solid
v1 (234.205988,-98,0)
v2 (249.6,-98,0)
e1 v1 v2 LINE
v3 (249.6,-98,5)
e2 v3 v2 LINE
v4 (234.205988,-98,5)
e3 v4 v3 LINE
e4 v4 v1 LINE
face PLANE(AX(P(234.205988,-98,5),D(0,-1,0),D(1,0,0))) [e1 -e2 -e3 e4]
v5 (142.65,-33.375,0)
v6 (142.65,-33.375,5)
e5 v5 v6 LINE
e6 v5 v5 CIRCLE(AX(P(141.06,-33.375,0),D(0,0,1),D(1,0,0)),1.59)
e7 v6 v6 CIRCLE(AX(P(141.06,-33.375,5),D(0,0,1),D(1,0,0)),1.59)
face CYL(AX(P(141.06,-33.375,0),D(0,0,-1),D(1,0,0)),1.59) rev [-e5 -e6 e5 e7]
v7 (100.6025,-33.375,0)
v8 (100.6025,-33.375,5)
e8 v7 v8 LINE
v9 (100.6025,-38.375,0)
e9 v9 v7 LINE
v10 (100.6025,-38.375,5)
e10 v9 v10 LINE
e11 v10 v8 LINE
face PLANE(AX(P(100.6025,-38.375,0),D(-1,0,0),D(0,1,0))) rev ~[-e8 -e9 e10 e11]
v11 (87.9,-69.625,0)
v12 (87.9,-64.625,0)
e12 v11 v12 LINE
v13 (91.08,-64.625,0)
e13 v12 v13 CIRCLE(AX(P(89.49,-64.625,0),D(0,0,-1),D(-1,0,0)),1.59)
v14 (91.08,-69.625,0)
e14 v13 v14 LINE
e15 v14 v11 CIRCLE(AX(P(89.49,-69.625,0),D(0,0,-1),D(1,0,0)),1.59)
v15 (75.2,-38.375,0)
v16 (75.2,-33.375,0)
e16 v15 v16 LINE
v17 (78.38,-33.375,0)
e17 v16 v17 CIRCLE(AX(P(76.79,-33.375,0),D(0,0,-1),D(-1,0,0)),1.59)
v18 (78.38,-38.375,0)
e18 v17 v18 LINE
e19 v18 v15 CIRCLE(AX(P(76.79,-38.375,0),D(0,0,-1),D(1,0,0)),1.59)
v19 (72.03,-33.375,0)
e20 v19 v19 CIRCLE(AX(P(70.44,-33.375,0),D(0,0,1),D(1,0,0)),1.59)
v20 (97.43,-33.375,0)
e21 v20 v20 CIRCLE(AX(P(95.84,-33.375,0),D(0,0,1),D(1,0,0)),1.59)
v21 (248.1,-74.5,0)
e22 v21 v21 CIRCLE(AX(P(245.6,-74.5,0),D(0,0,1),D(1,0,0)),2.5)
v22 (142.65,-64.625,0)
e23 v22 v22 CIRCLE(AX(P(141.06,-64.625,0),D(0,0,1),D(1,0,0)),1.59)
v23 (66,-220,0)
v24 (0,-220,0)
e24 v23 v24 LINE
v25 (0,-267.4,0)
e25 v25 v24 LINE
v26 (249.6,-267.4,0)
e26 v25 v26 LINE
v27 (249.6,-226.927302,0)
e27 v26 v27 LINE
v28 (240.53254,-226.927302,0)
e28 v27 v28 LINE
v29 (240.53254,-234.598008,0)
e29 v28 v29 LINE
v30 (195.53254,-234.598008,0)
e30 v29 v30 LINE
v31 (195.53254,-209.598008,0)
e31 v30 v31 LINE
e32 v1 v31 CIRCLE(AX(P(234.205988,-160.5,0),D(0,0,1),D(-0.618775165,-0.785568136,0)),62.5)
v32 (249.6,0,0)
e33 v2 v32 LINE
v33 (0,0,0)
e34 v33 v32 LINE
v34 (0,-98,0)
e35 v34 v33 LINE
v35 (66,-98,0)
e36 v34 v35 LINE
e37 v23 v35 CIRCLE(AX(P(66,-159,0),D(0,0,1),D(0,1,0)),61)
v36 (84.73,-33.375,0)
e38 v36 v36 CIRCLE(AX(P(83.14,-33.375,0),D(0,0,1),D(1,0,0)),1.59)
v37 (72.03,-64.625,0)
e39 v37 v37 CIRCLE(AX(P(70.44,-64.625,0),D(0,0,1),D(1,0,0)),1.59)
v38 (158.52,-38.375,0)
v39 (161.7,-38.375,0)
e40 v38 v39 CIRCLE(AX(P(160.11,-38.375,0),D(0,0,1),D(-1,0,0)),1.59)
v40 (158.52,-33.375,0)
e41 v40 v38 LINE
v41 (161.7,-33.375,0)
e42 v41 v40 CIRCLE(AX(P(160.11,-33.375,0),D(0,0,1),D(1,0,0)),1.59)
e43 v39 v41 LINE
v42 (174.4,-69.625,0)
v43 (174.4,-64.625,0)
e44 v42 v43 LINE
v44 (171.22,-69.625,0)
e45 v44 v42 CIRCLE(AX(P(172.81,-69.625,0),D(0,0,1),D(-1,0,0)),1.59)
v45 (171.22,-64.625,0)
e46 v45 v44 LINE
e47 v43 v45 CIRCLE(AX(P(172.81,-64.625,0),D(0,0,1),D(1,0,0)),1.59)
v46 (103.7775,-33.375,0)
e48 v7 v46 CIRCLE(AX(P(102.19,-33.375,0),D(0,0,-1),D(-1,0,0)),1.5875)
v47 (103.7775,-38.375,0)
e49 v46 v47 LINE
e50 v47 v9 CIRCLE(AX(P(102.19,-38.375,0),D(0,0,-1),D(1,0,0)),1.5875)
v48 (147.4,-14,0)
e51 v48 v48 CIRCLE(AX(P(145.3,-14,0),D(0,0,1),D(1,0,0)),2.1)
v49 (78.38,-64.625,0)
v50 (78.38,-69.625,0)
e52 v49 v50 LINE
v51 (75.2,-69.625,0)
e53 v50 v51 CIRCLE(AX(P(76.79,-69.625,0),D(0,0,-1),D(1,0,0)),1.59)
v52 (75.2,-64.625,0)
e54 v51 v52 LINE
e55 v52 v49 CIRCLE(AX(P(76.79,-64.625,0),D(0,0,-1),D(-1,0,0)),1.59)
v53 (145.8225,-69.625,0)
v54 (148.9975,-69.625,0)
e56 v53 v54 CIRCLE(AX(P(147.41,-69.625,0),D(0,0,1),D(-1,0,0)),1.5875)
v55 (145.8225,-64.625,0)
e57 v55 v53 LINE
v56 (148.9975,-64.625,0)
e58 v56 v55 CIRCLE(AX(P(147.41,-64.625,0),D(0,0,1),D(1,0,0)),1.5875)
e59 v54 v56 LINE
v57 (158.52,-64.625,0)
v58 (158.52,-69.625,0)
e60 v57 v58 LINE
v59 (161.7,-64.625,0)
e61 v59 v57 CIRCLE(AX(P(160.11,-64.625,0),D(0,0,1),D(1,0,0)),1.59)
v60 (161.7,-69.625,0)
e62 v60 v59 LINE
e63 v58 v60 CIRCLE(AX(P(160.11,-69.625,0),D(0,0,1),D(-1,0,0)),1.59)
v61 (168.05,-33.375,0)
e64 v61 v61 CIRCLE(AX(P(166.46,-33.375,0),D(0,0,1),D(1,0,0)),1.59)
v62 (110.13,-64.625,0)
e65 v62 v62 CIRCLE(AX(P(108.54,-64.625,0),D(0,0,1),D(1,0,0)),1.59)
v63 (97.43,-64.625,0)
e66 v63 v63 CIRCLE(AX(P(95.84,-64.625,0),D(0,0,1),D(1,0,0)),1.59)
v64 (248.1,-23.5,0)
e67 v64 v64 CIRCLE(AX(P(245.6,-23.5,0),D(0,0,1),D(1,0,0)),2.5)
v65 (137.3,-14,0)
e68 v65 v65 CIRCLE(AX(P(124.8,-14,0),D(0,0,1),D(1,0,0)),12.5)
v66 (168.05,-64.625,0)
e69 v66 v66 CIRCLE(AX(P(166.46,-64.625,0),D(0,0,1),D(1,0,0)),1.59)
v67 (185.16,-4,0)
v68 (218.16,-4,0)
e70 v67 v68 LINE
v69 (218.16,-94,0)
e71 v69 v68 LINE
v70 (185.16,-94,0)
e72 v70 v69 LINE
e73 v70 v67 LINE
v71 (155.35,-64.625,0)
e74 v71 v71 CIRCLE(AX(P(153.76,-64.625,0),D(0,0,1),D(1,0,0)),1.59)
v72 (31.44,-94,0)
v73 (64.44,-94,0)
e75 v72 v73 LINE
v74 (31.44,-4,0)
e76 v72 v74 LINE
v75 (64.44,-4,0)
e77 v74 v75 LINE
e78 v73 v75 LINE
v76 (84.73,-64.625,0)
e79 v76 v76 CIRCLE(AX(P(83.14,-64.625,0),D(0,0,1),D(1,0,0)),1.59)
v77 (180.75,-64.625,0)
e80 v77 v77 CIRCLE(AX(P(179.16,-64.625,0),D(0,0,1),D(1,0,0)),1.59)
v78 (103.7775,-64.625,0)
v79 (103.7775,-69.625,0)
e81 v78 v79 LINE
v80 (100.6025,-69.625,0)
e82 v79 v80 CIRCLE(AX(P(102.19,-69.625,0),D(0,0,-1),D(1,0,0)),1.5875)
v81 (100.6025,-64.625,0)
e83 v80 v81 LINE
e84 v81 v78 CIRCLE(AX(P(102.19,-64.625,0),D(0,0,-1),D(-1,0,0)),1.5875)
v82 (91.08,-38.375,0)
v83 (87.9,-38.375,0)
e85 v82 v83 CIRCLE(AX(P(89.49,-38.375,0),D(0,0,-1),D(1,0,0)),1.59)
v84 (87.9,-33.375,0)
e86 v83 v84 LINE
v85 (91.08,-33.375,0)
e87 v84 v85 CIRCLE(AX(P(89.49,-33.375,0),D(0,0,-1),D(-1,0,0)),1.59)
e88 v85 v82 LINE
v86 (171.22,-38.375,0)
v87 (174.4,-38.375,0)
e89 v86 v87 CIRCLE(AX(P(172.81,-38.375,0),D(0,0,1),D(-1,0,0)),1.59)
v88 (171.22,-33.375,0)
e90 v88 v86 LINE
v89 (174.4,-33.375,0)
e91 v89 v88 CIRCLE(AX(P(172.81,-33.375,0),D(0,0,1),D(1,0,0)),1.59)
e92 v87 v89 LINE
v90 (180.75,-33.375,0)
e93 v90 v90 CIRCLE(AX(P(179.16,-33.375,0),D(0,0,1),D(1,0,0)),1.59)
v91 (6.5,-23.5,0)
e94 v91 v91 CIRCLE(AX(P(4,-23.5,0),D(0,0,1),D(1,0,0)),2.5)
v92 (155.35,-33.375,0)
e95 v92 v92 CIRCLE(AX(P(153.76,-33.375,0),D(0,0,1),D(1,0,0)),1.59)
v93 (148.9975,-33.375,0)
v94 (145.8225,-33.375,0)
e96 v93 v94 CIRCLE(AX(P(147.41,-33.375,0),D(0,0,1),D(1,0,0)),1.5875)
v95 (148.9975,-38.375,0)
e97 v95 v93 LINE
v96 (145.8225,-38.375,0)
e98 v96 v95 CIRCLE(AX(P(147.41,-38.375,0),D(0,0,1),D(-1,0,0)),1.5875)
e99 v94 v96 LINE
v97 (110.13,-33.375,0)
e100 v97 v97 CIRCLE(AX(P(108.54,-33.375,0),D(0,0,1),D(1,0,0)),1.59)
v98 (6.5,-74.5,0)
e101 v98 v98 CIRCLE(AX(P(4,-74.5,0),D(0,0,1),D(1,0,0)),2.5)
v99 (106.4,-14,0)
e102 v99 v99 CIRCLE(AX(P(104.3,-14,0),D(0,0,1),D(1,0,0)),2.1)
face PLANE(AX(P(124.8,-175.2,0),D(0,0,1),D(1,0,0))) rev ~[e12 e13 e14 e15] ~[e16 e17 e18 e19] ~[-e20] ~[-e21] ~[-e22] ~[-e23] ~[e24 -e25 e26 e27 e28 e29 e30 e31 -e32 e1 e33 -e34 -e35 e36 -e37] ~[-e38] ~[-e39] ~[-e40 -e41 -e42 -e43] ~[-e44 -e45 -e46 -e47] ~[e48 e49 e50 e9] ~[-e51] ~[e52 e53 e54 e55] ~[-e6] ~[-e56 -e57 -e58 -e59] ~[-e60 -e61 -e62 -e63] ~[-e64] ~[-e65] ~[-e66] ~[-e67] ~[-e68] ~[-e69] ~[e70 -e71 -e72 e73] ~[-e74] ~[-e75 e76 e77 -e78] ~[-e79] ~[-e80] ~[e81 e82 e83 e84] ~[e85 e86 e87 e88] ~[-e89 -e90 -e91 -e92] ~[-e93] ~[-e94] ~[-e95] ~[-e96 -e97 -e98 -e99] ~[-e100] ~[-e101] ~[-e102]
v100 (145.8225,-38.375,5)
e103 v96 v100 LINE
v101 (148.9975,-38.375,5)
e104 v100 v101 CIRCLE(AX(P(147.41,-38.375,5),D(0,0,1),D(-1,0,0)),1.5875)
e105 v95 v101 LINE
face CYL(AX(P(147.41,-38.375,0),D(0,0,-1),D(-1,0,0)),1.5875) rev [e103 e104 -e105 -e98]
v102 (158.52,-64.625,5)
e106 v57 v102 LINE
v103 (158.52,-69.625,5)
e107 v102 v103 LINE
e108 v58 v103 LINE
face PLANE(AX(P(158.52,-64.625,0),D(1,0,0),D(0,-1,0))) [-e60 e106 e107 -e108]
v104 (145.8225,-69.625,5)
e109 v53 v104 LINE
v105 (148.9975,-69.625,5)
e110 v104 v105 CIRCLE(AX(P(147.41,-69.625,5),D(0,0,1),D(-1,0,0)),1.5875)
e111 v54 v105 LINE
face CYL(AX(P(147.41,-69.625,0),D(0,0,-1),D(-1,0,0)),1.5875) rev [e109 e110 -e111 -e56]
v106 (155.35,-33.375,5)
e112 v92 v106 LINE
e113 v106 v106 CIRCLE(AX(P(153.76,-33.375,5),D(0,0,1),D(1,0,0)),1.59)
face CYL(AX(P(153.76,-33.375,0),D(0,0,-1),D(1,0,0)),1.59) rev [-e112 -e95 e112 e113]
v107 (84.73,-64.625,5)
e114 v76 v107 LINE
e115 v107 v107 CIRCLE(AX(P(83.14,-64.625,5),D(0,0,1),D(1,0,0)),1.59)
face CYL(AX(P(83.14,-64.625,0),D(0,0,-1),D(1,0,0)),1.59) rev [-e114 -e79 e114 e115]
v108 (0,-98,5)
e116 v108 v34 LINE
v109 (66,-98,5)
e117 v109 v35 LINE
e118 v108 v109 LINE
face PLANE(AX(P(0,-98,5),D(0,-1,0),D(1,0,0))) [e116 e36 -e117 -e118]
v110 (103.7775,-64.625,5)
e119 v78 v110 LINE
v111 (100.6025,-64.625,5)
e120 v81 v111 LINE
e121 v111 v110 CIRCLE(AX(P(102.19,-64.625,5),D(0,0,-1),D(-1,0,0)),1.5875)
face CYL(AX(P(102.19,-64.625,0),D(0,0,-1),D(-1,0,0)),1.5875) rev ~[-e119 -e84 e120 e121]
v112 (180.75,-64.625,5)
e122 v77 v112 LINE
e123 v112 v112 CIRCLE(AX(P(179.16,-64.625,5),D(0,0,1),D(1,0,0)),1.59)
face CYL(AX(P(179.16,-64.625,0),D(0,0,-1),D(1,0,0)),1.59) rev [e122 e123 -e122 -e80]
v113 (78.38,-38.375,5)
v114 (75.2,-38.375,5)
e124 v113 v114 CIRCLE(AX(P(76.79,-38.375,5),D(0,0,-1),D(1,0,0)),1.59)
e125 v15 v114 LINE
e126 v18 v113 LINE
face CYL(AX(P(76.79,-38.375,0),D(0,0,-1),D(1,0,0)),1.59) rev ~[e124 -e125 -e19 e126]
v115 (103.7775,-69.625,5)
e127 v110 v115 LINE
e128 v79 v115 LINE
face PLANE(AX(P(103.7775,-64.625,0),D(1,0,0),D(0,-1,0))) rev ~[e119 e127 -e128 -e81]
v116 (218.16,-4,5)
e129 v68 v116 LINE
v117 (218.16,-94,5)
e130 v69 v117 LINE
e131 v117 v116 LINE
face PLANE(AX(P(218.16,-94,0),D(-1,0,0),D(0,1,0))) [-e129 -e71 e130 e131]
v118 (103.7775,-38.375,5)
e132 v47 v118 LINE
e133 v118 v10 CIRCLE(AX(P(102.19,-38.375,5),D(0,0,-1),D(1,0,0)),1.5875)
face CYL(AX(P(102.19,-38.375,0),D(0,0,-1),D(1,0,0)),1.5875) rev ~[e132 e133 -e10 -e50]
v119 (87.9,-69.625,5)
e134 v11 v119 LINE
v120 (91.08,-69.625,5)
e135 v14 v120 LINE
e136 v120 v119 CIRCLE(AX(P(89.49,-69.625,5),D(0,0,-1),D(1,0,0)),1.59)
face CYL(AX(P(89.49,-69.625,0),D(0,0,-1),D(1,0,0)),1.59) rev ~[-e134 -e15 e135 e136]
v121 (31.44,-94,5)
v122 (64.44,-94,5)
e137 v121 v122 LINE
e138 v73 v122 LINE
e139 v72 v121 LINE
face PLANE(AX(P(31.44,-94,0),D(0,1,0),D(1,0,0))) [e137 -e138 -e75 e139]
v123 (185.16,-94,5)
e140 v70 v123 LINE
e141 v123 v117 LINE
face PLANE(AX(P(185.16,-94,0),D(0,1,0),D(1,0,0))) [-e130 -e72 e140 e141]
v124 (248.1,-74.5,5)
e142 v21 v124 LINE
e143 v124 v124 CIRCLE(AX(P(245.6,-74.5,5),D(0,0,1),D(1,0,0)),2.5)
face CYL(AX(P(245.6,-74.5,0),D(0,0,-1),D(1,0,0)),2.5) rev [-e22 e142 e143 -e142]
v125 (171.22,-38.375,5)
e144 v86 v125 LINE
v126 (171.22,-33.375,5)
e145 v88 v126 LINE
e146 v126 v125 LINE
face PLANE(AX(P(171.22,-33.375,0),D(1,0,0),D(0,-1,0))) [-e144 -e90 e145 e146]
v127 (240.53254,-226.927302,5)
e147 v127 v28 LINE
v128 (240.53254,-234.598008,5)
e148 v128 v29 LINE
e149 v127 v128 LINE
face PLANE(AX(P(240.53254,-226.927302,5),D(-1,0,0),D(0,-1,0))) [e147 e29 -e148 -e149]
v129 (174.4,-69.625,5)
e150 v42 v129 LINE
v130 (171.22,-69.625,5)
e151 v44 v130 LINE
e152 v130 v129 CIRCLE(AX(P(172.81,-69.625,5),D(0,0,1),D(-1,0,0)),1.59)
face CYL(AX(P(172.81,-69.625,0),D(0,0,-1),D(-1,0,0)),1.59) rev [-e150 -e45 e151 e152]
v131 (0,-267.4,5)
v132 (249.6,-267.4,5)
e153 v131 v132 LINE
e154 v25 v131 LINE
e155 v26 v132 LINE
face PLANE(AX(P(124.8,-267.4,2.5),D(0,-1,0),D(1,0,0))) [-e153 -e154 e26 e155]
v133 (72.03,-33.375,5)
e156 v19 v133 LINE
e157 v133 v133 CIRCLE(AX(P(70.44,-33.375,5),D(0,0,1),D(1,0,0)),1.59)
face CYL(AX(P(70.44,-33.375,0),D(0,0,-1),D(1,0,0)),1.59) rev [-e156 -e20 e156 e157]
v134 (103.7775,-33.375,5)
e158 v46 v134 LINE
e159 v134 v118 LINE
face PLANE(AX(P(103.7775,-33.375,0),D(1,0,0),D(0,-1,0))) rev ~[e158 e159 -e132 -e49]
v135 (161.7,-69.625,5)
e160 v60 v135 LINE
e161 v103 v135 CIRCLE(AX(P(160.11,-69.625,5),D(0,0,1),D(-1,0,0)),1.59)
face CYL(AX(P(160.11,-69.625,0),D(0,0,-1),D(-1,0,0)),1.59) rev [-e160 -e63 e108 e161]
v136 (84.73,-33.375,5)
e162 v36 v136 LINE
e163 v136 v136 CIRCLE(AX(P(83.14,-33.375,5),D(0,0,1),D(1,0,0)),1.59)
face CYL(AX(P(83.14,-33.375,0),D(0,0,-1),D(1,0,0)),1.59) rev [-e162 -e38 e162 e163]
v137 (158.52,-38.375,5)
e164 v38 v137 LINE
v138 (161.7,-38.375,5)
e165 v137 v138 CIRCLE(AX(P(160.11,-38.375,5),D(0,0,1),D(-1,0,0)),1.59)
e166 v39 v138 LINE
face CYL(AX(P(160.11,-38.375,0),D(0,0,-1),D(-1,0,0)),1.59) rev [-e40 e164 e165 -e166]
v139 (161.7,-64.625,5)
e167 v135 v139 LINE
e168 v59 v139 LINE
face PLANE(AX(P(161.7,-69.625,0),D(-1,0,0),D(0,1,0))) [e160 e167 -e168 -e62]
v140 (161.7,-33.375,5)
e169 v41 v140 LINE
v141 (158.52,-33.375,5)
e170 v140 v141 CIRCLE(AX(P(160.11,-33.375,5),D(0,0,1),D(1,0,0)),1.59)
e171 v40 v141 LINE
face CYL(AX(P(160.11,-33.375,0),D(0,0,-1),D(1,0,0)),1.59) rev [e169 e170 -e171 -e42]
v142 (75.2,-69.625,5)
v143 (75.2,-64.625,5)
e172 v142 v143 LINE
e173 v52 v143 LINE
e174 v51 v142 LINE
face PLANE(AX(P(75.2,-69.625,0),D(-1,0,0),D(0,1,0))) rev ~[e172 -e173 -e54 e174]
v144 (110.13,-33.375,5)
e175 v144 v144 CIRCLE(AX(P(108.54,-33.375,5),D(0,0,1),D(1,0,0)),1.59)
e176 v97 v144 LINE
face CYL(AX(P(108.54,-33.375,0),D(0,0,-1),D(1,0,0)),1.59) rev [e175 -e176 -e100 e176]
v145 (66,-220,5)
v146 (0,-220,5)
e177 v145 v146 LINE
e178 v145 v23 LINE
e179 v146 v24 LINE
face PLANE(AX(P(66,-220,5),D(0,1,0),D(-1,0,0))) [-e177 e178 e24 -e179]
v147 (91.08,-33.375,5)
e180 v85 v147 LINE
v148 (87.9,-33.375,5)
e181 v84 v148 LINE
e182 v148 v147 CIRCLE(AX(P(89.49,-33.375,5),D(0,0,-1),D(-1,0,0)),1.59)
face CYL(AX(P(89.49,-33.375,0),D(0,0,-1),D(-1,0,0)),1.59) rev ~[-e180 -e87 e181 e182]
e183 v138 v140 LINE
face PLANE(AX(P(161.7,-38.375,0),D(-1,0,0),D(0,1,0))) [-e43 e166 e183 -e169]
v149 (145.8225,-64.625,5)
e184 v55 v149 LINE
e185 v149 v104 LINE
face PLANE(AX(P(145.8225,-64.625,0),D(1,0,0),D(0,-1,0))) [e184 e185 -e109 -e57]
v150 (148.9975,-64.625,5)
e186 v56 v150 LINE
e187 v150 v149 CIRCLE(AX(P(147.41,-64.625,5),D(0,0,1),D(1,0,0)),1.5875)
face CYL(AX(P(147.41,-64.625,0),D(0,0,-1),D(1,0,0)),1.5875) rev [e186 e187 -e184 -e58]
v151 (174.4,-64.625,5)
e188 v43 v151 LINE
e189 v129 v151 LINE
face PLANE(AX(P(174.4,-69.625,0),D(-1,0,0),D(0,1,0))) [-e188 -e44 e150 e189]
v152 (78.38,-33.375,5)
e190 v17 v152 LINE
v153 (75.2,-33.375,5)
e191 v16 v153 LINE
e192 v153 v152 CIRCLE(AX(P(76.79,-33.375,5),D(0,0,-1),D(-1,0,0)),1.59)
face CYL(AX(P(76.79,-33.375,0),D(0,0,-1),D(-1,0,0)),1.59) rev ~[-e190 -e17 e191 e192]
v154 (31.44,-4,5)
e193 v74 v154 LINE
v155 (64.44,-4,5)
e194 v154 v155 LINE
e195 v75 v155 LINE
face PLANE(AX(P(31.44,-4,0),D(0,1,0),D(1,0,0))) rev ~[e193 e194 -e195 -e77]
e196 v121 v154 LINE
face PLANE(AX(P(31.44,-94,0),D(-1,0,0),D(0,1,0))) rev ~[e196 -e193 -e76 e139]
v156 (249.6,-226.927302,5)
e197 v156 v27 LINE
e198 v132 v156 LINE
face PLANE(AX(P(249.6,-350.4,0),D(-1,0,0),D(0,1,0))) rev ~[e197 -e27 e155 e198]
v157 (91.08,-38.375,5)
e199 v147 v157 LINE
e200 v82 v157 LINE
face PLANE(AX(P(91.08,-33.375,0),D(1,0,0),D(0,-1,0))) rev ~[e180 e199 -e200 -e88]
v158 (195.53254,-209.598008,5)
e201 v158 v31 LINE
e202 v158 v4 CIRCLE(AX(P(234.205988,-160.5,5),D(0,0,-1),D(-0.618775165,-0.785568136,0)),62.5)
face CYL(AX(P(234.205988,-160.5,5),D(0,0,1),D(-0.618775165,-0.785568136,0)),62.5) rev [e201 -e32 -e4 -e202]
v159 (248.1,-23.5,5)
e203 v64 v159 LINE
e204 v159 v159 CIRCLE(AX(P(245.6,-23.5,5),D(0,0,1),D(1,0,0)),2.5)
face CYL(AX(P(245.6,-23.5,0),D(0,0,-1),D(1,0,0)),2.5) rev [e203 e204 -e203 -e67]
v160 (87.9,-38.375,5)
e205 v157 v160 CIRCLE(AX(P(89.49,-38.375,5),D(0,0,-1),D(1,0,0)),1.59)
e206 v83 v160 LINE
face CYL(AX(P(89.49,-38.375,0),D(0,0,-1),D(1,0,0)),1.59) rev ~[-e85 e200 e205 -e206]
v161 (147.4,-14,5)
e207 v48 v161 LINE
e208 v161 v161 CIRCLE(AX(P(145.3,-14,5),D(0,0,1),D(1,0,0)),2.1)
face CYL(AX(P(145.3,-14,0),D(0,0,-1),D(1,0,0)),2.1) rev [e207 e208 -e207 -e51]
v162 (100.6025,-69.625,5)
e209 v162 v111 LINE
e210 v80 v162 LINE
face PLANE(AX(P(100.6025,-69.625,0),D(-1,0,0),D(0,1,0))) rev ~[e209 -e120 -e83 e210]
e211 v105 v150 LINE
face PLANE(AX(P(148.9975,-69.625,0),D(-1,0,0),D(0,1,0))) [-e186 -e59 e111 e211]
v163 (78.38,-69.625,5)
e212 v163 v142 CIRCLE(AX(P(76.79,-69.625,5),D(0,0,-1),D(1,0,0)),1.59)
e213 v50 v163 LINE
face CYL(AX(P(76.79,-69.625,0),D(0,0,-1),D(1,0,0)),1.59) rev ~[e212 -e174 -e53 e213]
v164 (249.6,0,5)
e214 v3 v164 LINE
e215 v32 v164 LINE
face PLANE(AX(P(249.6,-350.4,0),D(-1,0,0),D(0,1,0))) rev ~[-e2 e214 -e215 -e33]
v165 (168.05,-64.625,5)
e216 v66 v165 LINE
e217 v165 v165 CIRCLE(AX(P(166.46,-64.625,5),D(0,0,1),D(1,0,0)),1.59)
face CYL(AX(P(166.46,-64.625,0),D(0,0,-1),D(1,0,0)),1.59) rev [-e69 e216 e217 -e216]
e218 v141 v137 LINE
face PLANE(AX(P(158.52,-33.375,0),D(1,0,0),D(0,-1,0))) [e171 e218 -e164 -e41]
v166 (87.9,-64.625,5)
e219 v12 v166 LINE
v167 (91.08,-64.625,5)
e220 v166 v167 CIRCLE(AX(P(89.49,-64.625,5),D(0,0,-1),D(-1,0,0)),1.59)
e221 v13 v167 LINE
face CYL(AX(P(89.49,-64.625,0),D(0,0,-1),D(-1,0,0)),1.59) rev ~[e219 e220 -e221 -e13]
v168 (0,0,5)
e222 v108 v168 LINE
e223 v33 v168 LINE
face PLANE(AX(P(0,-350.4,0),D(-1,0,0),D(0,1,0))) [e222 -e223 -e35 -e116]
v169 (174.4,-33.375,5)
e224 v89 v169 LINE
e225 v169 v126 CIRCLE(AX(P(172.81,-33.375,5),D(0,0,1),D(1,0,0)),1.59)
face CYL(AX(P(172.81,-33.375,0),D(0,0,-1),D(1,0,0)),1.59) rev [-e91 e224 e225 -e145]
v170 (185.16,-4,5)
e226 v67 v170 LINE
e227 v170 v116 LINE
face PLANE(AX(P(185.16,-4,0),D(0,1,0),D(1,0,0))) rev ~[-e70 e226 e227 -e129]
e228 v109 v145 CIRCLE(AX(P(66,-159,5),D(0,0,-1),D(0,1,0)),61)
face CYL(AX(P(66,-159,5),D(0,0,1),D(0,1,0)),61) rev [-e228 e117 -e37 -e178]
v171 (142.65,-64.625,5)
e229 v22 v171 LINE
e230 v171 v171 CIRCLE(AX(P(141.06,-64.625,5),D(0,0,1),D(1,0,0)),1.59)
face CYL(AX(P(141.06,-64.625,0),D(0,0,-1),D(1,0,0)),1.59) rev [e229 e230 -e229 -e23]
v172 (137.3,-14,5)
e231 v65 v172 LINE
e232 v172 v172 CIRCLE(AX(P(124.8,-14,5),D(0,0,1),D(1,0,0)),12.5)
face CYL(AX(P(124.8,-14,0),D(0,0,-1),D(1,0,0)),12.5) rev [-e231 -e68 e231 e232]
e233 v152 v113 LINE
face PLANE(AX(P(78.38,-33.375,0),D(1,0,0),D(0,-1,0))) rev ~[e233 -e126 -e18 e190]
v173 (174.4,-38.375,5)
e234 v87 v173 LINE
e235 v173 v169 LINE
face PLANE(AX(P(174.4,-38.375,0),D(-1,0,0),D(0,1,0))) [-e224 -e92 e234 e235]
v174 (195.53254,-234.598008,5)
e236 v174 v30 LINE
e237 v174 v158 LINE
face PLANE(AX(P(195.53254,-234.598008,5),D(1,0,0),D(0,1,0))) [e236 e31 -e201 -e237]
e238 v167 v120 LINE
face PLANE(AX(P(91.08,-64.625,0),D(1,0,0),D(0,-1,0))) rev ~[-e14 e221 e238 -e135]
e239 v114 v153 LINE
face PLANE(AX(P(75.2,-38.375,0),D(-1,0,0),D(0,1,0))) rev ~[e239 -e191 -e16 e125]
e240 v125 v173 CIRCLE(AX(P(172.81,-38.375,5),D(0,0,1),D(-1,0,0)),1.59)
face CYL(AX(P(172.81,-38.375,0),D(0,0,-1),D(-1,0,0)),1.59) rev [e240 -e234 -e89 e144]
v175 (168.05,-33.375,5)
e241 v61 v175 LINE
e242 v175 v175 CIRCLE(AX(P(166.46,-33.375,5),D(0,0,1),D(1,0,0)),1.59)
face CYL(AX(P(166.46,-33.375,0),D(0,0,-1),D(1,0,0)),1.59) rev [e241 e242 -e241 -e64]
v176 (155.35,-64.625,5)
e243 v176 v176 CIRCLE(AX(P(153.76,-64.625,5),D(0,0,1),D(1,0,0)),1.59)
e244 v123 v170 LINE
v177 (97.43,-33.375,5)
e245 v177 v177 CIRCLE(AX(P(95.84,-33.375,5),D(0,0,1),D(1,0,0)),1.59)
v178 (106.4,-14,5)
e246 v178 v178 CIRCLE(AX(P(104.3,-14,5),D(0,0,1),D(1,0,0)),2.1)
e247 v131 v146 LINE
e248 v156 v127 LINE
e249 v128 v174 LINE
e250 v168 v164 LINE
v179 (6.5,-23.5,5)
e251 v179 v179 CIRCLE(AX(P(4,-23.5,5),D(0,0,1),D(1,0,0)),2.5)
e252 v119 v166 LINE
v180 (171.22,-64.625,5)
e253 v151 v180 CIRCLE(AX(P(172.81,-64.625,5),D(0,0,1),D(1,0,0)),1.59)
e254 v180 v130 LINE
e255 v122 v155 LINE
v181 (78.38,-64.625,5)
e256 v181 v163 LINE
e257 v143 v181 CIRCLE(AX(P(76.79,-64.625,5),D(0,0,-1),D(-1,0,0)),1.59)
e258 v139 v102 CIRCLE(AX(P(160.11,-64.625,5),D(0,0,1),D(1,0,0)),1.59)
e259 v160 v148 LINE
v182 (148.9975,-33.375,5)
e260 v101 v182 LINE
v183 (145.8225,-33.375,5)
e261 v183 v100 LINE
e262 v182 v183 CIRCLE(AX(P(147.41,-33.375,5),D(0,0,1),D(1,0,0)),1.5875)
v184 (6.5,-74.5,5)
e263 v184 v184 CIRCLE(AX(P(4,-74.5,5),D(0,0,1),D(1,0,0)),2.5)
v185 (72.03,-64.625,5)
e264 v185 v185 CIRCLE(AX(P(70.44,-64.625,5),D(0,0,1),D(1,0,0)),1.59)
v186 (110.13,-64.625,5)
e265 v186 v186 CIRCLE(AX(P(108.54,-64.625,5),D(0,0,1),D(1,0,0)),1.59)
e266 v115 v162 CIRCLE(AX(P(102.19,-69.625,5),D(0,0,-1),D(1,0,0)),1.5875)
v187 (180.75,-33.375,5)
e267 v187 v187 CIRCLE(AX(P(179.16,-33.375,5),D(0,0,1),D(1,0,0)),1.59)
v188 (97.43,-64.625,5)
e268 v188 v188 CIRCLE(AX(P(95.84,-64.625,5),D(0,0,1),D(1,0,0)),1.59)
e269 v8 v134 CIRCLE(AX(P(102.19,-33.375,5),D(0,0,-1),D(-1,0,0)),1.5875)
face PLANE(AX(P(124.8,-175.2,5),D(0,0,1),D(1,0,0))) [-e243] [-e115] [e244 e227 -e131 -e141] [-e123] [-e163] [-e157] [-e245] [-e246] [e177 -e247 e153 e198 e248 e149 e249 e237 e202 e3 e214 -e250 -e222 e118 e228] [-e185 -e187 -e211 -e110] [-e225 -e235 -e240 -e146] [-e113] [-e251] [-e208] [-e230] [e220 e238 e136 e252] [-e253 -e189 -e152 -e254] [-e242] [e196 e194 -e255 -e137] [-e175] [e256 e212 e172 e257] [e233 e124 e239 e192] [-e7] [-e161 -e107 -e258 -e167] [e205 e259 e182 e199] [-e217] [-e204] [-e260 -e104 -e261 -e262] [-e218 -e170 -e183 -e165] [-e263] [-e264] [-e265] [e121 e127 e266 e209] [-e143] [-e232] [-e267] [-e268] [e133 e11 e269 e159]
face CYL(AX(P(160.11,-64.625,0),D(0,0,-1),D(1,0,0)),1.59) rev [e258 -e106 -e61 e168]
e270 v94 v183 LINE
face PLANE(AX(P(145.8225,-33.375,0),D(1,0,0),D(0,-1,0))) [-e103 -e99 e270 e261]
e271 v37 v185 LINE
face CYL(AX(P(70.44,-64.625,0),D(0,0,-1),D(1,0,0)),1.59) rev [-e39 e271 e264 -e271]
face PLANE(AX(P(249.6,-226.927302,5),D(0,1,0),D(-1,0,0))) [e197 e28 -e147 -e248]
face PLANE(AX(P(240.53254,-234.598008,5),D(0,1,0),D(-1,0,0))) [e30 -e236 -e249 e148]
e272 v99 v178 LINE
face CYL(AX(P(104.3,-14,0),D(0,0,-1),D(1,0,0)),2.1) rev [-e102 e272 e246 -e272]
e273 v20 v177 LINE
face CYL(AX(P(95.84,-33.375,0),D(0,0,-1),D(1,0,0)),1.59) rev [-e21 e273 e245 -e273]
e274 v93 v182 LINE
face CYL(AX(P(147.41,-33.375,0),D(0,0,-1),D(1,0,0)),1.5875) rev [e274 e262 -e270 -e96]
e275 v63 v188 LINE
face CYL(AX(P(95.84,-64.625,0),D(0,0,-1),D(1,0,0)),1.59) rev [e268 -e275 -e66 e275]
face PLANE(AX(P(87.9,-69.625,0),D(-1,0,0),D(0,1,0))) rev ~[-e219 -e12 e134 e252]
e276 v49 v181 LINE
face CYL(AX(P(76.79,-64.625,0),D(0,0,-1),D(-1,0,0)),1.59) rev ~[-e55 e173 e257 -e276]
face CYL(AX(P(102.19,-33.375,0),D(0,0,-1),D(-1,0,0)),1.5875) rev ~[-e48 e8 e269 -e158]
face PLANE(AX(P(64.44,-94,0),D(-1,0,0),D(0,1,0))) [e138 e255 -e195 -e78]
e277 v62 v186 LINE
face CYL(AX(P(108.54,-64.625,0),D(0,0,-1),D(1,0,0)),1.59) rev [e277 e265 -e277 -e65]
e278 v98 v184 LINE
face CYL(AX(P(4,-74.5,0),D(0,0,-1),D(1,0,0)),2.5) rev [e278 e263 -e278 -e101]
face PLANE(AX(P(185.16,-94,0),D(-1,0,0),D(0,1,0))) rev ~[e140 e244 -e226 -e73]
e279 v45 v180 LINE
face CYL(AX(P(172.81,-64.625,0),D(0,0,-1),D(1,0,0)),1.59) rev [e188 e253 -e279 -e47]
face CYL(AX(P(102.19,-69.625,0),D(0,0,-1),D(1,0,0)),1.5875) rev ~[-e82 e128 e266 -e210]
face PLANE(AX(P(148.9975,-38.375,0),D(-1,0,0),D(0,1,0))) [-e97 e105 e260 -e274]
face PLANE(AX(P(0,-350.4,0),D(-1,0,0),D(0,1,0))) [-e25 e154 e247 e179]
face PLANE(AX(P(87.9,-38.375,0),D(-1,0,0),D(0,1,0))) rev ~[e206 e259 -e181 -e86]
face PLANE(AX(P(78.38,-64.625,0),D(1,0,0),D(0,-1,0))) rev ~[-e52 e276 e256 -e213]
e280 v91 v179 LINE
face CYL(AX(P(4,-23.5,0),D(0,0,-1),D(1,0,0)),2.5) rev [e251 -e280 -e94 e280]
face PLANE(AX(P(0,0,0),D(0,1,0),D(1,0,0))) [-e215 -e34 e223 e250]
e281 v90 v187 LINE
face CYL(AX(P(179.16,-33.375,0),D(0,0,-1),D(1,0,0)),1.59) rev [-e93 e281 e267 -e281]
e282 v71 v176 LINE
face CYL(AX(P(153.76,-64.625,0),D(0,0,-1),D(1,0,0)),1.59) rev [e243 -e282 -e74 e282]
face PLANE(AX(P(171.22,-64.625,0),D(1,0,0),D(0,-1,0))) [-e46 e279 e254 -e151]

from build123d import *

# Parameters (mm, degrees)
SKETCH1_W           = 249.6
SKETCH1_H           = 350.4
SKETCH1_R           = 2.1
SKETCH1_R_2         = 2.5
SKETCH1_R_3         = 1.59
SKETCH1_R_4         = 12.5
SKETCH1_W_2         = 33
SKETCH1_H_2         = 90
BOSS_EXTRUDE1_DEPTH = 5
CUT_EXTRUDE1_DEPTH  = 6
SKETCH12_W          = 249.6
SKETCH12_H          = 5
CUT_EXTRUDE2_DEPTH  = 83


with BuildPart() as part:
    # Sketch1 → Boss-Extrude1 (new body)
    with BuildSketch(Plane.XY):
        with Locations((124.8, -175.2)):
            Rectangle(SKETCH1_W, SKETCH1_H)
        with Locations((104.3, -14)):
            Circle(SKETCH1_R, mode=Mode.SUBTRACT)
        with Locations((245.6, -23.5)):
            Circle(SKETCH1_R_2, mode=Mode.SUBTRACT)
        with Locations((245.6, -74.5)):
            Circle(SKETCH1_R_2, mode=Mode.SUBTRACT)
        with Locations((145.3, -14)):
            Circle(SKETCH1_R, mode=Mode.SUBTRACT)
        with Locations((179.16, -33.375)):
            Circle(SKETCH1_R_3, mode=Mode.SUBTRACT)
        with Locations((179.16, -64.625)):
            Circle(SKETCH1_R_3, mode=Mode.SUBTRACT)
        with Locations((124.8, -14)):
            Circle(SKETCH1_R_4, mode=Mode.SUBTRACT)
        with Locations((141.06, -33.375)):
            Circle(SKETCH1_R_3, mode=Mode.SUBTRACT)
        with Locations((153.76, -33.375)):
            Circle(SKETCH1_R_3, mode=Mode.SUBTRACT)
        with Locations((166.46, -33.375)):
            Circle(SKETCH1_R_3, mode=Mode.SUBTRACT)
        with Locations((141.06, -64.625)):
            Circle(SKETCH1_R_3, mode=Mode.SUBTRACT)
        with Locations((153.76, -64.625)):
            Circle(SKETCH1_R_3, mode=Mode.SUBTRACT)
        with Locations((166.46, -64.625)):
            Circle(SKETCH1_R_3, mode=Mode.SUBTRACT)
        with Locations((83.14, -64.625)):
            Circle(SKETCH1_R_3, mode=Mode.SUBTRACT)
        with Locations((95.84, -64.625)):
            Circle(SKETCH1_R_3, mode=Mode.SUBTRACT)
        with Locations((108.54, -64.625)):
            Circle(SKETCH1_R_3, mode=Mode.SUBTRACT)
        with Locations((83.14, -33.375)):
            Circle(SKETCH1_R_3, mode=Mode.SUBTRACT)
        with Locations((95.84, -33.375)):
            Circle(SKETCH1_R_3, mode=Mode.SUBTRACT)
        with Locations((108.54, -33.375)):
            Circle(SKETCH1_R_3, mode=Mode.SUBTRACT)
        with Locations((70.44, -64.625)):
            Circle(SKETCH1_R_3, mode=Mode.SUBTRACT)
        with Locations((70.44, -33.375)):
            Circle(SKETCH1_R_3, mode=Mode.SUBTRACT)
        with Locations((4, -74.5)):
            Circle(SKETCH1_R_2, mode=Mode.SUBTRACT)
        with Locations((4, -23.5)):
            Circle(SKETCH1_R_2, mode=Mode.SUBTRACT)
        with Locations((201.66, -49)):
            Rectangle(SKETCH1_W_2, SKETCH1_H_2, mode=Mode.SUBTRACT)
        with BuildLine():
            Line((145.8225, -33.375), (145.8225, -38.375))
            ThreePointArc((145.8225, -38.375), (147.41, -39.9625), (148.9975, -38.375))
            Line((148.9975, -38.375), (148.9975, -33.375))
            ThreePointArc((148.9975, -33.375), (147.41, -31.7875), (145.8225, -33.375))
        make_face(mode=Mode.SUBTRACT)
        with BuildLine():
            Line((158.52, -33.375), (158.52, -38.375))
            ThreePointArc((158.52, -38.375), (160.11, -39.965), (161.7, -38.375))
            Line((161.7, -38.375), (161.7, -33.375))
            ThreePointArc((161.7, -33.375), (160.11, -31.785), (158.52, -33.375))
        make_face(mode=Mode.SUBTRACT)
        with BuildLine():
            Line((171.22, -33.375), (171.22, -38.375))
            ThreePointArc((171.22, -38.375), (172.81, -39.965), (174.4, -38.375))
            Line((174.4, -38.375), (174.4, -33.375))
            ThreePointArc((174.4, -33.375), (172.81, -31.785), (171.22, -33.375))
        make_face(mode=Mode.SUBTRACT)
        with BuildLine():
            Line((145.8225, -64.625), (145.8225, -69.625))
            ThreePointArc((145.8225, -69.625), (147.41, -71.2125), (148.9975, -69.625))
            Line((148.9975, -69.625), (148.9975, -64.625))
            ThreePointArc((148.9975, -64.625), (147.41, -63.0375), (145.8225, -64.625))
        make_face(mode=Mode.SUBTRACT)
        with BuildLine():
            Line((158.52, -64.625), (158.52, -69.625))
            ThreePointArc((158.52, -69.625), (160.11, -71.215), (161.7, -69.625))
            Line((161.7, -69.625), (161.7, -64.625))
            ThreePointArc((161.7, -64.625), (160.11, -63.035), (158.52, -64.625))
        make_face(mode=Mode.SUBTRACT)
        with BuildLine():
            Line((171.22, -64.625), (171.22, -69.625))
            ThreePointArc((171.22, -69.625), (172.81, -71.215), (174.4, -69.625))
            Line((174.4, -69.625), (174.4, -64.625))
            ThreePointArc((174.4, -64.625), (172.81, -63.035), (171.22, -64.625))
        make_face(mode=Mode.SUBTRACT)
        with BuildLine():
            Line((103.7775, -33.375), (103.7775, -38.375))
            ThreePointArc((103.7775, -38.375), (102.19, -39.9625), (100.6025, -38.375))
            Line((100.6025, -38.375), (100.6025, -33.375))
            ThreePointArc((100.6025, -33.375), (102.19, -31.7875), (103.7775, -33.375))
        make_face(mode=Mode.SUBTRACT)
        with BuildLine():
            Line((91.08, -33.375), (91.08, -38.375))
            ThreePointArc((91.08, -38.375), (89.49, -39.965), (87.9, -38.375))
            Line((87.9, -38.375), (87.9, -33.375))
            ThreePointArc((87.9, -33.375), (89.49, -31.785), (91.08, -33.375))
        make_face(mode=Mode.SUBTRACT)
        with BuildLine():
            Line((78.38, -33.375), (78.38, -38.375))
            ThreePointArc((78.38, -38.375), (76.79, -39.965), (75.2, -38.375))
            Line((75.2, -38.375), (75.2, -33.375))
            ThreePointArc((75.2, -33.375), (76.79, -31.785), (78.38, -33.375))
        make_face(mode=Mode.SUBTRACT)
        with BuildLine():
            Line((103.7775, -64.625), (103.7775, -69.625))
            ThreePointArc((103.7775, -69.625), (102.19, -71.2125), (100.6025, -69.625))
            Line((100.6025, -69.625), (100.6025, -64.625))
            ThreePointArc((100.6025, -64.625), (102.19, -63.0375), (103.7775, -64.625))
        make_face(mode=Mode.SUBTRACT)
        with BuildLine():
            Line((91.08, -64.625), (91.08, -69.625))
            ThreePointArc((91.08, -69.625), (89.49, -71.215), (87.9, -69.625))
            Line((87.9, -69.625), (87.9, -64.625))
            ThreePointArc((87.9, -64.625), (89.49, -63.035), (91.08, -64.625))
        make_face(mode=Mode.SUBTRACT)
        with BuildLine():
            Line((78.38, -64.625), (78.38, -69.625))
            ThreePointArc((78.38, -69.625), (76.79, -71.215), (75.2, -69.625))
            Line((75.2, -69.625), (75.2, -64.625))
            ThreePointArc((75.2, -64.625), (76.79, -63.035), (78.38, -64.625))
        make_face(mode=Mode.SUBTRACT)
        with Locations((47.94, -49)):
            Rectangle(SKETCH1_W_2, SKETCH1_H_2, mode=Mode.SUBTRACT)
    extrude(amount=BOSS_EXTRUDE1_DEPTH)

    # Sketch11 → Cut-Extrude1 (cut, through all)
    with BuildSketch(Plane.XY.offset(5)):
        with BuildLine():
            Line((66, -220), (0, -220))
            Line((0, -220), (0, -98))
            Line((0, -98), (66, -98))
            ThreePointArc((66, -98), (127, -159), (66, -220))
        make_face()
        with BuildLine():
            Line((234.205987928, -98), (249.6, -98))
            Line((249.6, -98), (249.6, -226.927302483))
            Line((249.6, -226.927302483), (240.532540142, -226.927302483))
            Line((240.532540142, -226.927302483), (240.532540142, -234.598008477))
            Line((240.532540142, -234.598008477), (195.532540142, -234.598008477))
            Line((195.532540142, -234.598008477), (195.532540142, -209.598008477))
            ThreePointArc((195.532540142, -209.598008477), (175.151455799, -140.035097481), (234.205987928, -98))
        make_face()
    extrude(amount=-CUT_EXTRUDE1_DEPTH, mode=Mode.SUBTRACT)

    # Sketch12 → Cut-Extrude2 (cut)
    with BuildSketch(Plane.XZ.offset(350.4)):
        with Locations((124.8, 2.5)):
            Rectangle(SKETCH12_W, SKETCH12_H)
    extrude(amount=-CUT_EXTRUDE2_DEPTH, mode=Mode.SUBTRACT)


solid = part.part
